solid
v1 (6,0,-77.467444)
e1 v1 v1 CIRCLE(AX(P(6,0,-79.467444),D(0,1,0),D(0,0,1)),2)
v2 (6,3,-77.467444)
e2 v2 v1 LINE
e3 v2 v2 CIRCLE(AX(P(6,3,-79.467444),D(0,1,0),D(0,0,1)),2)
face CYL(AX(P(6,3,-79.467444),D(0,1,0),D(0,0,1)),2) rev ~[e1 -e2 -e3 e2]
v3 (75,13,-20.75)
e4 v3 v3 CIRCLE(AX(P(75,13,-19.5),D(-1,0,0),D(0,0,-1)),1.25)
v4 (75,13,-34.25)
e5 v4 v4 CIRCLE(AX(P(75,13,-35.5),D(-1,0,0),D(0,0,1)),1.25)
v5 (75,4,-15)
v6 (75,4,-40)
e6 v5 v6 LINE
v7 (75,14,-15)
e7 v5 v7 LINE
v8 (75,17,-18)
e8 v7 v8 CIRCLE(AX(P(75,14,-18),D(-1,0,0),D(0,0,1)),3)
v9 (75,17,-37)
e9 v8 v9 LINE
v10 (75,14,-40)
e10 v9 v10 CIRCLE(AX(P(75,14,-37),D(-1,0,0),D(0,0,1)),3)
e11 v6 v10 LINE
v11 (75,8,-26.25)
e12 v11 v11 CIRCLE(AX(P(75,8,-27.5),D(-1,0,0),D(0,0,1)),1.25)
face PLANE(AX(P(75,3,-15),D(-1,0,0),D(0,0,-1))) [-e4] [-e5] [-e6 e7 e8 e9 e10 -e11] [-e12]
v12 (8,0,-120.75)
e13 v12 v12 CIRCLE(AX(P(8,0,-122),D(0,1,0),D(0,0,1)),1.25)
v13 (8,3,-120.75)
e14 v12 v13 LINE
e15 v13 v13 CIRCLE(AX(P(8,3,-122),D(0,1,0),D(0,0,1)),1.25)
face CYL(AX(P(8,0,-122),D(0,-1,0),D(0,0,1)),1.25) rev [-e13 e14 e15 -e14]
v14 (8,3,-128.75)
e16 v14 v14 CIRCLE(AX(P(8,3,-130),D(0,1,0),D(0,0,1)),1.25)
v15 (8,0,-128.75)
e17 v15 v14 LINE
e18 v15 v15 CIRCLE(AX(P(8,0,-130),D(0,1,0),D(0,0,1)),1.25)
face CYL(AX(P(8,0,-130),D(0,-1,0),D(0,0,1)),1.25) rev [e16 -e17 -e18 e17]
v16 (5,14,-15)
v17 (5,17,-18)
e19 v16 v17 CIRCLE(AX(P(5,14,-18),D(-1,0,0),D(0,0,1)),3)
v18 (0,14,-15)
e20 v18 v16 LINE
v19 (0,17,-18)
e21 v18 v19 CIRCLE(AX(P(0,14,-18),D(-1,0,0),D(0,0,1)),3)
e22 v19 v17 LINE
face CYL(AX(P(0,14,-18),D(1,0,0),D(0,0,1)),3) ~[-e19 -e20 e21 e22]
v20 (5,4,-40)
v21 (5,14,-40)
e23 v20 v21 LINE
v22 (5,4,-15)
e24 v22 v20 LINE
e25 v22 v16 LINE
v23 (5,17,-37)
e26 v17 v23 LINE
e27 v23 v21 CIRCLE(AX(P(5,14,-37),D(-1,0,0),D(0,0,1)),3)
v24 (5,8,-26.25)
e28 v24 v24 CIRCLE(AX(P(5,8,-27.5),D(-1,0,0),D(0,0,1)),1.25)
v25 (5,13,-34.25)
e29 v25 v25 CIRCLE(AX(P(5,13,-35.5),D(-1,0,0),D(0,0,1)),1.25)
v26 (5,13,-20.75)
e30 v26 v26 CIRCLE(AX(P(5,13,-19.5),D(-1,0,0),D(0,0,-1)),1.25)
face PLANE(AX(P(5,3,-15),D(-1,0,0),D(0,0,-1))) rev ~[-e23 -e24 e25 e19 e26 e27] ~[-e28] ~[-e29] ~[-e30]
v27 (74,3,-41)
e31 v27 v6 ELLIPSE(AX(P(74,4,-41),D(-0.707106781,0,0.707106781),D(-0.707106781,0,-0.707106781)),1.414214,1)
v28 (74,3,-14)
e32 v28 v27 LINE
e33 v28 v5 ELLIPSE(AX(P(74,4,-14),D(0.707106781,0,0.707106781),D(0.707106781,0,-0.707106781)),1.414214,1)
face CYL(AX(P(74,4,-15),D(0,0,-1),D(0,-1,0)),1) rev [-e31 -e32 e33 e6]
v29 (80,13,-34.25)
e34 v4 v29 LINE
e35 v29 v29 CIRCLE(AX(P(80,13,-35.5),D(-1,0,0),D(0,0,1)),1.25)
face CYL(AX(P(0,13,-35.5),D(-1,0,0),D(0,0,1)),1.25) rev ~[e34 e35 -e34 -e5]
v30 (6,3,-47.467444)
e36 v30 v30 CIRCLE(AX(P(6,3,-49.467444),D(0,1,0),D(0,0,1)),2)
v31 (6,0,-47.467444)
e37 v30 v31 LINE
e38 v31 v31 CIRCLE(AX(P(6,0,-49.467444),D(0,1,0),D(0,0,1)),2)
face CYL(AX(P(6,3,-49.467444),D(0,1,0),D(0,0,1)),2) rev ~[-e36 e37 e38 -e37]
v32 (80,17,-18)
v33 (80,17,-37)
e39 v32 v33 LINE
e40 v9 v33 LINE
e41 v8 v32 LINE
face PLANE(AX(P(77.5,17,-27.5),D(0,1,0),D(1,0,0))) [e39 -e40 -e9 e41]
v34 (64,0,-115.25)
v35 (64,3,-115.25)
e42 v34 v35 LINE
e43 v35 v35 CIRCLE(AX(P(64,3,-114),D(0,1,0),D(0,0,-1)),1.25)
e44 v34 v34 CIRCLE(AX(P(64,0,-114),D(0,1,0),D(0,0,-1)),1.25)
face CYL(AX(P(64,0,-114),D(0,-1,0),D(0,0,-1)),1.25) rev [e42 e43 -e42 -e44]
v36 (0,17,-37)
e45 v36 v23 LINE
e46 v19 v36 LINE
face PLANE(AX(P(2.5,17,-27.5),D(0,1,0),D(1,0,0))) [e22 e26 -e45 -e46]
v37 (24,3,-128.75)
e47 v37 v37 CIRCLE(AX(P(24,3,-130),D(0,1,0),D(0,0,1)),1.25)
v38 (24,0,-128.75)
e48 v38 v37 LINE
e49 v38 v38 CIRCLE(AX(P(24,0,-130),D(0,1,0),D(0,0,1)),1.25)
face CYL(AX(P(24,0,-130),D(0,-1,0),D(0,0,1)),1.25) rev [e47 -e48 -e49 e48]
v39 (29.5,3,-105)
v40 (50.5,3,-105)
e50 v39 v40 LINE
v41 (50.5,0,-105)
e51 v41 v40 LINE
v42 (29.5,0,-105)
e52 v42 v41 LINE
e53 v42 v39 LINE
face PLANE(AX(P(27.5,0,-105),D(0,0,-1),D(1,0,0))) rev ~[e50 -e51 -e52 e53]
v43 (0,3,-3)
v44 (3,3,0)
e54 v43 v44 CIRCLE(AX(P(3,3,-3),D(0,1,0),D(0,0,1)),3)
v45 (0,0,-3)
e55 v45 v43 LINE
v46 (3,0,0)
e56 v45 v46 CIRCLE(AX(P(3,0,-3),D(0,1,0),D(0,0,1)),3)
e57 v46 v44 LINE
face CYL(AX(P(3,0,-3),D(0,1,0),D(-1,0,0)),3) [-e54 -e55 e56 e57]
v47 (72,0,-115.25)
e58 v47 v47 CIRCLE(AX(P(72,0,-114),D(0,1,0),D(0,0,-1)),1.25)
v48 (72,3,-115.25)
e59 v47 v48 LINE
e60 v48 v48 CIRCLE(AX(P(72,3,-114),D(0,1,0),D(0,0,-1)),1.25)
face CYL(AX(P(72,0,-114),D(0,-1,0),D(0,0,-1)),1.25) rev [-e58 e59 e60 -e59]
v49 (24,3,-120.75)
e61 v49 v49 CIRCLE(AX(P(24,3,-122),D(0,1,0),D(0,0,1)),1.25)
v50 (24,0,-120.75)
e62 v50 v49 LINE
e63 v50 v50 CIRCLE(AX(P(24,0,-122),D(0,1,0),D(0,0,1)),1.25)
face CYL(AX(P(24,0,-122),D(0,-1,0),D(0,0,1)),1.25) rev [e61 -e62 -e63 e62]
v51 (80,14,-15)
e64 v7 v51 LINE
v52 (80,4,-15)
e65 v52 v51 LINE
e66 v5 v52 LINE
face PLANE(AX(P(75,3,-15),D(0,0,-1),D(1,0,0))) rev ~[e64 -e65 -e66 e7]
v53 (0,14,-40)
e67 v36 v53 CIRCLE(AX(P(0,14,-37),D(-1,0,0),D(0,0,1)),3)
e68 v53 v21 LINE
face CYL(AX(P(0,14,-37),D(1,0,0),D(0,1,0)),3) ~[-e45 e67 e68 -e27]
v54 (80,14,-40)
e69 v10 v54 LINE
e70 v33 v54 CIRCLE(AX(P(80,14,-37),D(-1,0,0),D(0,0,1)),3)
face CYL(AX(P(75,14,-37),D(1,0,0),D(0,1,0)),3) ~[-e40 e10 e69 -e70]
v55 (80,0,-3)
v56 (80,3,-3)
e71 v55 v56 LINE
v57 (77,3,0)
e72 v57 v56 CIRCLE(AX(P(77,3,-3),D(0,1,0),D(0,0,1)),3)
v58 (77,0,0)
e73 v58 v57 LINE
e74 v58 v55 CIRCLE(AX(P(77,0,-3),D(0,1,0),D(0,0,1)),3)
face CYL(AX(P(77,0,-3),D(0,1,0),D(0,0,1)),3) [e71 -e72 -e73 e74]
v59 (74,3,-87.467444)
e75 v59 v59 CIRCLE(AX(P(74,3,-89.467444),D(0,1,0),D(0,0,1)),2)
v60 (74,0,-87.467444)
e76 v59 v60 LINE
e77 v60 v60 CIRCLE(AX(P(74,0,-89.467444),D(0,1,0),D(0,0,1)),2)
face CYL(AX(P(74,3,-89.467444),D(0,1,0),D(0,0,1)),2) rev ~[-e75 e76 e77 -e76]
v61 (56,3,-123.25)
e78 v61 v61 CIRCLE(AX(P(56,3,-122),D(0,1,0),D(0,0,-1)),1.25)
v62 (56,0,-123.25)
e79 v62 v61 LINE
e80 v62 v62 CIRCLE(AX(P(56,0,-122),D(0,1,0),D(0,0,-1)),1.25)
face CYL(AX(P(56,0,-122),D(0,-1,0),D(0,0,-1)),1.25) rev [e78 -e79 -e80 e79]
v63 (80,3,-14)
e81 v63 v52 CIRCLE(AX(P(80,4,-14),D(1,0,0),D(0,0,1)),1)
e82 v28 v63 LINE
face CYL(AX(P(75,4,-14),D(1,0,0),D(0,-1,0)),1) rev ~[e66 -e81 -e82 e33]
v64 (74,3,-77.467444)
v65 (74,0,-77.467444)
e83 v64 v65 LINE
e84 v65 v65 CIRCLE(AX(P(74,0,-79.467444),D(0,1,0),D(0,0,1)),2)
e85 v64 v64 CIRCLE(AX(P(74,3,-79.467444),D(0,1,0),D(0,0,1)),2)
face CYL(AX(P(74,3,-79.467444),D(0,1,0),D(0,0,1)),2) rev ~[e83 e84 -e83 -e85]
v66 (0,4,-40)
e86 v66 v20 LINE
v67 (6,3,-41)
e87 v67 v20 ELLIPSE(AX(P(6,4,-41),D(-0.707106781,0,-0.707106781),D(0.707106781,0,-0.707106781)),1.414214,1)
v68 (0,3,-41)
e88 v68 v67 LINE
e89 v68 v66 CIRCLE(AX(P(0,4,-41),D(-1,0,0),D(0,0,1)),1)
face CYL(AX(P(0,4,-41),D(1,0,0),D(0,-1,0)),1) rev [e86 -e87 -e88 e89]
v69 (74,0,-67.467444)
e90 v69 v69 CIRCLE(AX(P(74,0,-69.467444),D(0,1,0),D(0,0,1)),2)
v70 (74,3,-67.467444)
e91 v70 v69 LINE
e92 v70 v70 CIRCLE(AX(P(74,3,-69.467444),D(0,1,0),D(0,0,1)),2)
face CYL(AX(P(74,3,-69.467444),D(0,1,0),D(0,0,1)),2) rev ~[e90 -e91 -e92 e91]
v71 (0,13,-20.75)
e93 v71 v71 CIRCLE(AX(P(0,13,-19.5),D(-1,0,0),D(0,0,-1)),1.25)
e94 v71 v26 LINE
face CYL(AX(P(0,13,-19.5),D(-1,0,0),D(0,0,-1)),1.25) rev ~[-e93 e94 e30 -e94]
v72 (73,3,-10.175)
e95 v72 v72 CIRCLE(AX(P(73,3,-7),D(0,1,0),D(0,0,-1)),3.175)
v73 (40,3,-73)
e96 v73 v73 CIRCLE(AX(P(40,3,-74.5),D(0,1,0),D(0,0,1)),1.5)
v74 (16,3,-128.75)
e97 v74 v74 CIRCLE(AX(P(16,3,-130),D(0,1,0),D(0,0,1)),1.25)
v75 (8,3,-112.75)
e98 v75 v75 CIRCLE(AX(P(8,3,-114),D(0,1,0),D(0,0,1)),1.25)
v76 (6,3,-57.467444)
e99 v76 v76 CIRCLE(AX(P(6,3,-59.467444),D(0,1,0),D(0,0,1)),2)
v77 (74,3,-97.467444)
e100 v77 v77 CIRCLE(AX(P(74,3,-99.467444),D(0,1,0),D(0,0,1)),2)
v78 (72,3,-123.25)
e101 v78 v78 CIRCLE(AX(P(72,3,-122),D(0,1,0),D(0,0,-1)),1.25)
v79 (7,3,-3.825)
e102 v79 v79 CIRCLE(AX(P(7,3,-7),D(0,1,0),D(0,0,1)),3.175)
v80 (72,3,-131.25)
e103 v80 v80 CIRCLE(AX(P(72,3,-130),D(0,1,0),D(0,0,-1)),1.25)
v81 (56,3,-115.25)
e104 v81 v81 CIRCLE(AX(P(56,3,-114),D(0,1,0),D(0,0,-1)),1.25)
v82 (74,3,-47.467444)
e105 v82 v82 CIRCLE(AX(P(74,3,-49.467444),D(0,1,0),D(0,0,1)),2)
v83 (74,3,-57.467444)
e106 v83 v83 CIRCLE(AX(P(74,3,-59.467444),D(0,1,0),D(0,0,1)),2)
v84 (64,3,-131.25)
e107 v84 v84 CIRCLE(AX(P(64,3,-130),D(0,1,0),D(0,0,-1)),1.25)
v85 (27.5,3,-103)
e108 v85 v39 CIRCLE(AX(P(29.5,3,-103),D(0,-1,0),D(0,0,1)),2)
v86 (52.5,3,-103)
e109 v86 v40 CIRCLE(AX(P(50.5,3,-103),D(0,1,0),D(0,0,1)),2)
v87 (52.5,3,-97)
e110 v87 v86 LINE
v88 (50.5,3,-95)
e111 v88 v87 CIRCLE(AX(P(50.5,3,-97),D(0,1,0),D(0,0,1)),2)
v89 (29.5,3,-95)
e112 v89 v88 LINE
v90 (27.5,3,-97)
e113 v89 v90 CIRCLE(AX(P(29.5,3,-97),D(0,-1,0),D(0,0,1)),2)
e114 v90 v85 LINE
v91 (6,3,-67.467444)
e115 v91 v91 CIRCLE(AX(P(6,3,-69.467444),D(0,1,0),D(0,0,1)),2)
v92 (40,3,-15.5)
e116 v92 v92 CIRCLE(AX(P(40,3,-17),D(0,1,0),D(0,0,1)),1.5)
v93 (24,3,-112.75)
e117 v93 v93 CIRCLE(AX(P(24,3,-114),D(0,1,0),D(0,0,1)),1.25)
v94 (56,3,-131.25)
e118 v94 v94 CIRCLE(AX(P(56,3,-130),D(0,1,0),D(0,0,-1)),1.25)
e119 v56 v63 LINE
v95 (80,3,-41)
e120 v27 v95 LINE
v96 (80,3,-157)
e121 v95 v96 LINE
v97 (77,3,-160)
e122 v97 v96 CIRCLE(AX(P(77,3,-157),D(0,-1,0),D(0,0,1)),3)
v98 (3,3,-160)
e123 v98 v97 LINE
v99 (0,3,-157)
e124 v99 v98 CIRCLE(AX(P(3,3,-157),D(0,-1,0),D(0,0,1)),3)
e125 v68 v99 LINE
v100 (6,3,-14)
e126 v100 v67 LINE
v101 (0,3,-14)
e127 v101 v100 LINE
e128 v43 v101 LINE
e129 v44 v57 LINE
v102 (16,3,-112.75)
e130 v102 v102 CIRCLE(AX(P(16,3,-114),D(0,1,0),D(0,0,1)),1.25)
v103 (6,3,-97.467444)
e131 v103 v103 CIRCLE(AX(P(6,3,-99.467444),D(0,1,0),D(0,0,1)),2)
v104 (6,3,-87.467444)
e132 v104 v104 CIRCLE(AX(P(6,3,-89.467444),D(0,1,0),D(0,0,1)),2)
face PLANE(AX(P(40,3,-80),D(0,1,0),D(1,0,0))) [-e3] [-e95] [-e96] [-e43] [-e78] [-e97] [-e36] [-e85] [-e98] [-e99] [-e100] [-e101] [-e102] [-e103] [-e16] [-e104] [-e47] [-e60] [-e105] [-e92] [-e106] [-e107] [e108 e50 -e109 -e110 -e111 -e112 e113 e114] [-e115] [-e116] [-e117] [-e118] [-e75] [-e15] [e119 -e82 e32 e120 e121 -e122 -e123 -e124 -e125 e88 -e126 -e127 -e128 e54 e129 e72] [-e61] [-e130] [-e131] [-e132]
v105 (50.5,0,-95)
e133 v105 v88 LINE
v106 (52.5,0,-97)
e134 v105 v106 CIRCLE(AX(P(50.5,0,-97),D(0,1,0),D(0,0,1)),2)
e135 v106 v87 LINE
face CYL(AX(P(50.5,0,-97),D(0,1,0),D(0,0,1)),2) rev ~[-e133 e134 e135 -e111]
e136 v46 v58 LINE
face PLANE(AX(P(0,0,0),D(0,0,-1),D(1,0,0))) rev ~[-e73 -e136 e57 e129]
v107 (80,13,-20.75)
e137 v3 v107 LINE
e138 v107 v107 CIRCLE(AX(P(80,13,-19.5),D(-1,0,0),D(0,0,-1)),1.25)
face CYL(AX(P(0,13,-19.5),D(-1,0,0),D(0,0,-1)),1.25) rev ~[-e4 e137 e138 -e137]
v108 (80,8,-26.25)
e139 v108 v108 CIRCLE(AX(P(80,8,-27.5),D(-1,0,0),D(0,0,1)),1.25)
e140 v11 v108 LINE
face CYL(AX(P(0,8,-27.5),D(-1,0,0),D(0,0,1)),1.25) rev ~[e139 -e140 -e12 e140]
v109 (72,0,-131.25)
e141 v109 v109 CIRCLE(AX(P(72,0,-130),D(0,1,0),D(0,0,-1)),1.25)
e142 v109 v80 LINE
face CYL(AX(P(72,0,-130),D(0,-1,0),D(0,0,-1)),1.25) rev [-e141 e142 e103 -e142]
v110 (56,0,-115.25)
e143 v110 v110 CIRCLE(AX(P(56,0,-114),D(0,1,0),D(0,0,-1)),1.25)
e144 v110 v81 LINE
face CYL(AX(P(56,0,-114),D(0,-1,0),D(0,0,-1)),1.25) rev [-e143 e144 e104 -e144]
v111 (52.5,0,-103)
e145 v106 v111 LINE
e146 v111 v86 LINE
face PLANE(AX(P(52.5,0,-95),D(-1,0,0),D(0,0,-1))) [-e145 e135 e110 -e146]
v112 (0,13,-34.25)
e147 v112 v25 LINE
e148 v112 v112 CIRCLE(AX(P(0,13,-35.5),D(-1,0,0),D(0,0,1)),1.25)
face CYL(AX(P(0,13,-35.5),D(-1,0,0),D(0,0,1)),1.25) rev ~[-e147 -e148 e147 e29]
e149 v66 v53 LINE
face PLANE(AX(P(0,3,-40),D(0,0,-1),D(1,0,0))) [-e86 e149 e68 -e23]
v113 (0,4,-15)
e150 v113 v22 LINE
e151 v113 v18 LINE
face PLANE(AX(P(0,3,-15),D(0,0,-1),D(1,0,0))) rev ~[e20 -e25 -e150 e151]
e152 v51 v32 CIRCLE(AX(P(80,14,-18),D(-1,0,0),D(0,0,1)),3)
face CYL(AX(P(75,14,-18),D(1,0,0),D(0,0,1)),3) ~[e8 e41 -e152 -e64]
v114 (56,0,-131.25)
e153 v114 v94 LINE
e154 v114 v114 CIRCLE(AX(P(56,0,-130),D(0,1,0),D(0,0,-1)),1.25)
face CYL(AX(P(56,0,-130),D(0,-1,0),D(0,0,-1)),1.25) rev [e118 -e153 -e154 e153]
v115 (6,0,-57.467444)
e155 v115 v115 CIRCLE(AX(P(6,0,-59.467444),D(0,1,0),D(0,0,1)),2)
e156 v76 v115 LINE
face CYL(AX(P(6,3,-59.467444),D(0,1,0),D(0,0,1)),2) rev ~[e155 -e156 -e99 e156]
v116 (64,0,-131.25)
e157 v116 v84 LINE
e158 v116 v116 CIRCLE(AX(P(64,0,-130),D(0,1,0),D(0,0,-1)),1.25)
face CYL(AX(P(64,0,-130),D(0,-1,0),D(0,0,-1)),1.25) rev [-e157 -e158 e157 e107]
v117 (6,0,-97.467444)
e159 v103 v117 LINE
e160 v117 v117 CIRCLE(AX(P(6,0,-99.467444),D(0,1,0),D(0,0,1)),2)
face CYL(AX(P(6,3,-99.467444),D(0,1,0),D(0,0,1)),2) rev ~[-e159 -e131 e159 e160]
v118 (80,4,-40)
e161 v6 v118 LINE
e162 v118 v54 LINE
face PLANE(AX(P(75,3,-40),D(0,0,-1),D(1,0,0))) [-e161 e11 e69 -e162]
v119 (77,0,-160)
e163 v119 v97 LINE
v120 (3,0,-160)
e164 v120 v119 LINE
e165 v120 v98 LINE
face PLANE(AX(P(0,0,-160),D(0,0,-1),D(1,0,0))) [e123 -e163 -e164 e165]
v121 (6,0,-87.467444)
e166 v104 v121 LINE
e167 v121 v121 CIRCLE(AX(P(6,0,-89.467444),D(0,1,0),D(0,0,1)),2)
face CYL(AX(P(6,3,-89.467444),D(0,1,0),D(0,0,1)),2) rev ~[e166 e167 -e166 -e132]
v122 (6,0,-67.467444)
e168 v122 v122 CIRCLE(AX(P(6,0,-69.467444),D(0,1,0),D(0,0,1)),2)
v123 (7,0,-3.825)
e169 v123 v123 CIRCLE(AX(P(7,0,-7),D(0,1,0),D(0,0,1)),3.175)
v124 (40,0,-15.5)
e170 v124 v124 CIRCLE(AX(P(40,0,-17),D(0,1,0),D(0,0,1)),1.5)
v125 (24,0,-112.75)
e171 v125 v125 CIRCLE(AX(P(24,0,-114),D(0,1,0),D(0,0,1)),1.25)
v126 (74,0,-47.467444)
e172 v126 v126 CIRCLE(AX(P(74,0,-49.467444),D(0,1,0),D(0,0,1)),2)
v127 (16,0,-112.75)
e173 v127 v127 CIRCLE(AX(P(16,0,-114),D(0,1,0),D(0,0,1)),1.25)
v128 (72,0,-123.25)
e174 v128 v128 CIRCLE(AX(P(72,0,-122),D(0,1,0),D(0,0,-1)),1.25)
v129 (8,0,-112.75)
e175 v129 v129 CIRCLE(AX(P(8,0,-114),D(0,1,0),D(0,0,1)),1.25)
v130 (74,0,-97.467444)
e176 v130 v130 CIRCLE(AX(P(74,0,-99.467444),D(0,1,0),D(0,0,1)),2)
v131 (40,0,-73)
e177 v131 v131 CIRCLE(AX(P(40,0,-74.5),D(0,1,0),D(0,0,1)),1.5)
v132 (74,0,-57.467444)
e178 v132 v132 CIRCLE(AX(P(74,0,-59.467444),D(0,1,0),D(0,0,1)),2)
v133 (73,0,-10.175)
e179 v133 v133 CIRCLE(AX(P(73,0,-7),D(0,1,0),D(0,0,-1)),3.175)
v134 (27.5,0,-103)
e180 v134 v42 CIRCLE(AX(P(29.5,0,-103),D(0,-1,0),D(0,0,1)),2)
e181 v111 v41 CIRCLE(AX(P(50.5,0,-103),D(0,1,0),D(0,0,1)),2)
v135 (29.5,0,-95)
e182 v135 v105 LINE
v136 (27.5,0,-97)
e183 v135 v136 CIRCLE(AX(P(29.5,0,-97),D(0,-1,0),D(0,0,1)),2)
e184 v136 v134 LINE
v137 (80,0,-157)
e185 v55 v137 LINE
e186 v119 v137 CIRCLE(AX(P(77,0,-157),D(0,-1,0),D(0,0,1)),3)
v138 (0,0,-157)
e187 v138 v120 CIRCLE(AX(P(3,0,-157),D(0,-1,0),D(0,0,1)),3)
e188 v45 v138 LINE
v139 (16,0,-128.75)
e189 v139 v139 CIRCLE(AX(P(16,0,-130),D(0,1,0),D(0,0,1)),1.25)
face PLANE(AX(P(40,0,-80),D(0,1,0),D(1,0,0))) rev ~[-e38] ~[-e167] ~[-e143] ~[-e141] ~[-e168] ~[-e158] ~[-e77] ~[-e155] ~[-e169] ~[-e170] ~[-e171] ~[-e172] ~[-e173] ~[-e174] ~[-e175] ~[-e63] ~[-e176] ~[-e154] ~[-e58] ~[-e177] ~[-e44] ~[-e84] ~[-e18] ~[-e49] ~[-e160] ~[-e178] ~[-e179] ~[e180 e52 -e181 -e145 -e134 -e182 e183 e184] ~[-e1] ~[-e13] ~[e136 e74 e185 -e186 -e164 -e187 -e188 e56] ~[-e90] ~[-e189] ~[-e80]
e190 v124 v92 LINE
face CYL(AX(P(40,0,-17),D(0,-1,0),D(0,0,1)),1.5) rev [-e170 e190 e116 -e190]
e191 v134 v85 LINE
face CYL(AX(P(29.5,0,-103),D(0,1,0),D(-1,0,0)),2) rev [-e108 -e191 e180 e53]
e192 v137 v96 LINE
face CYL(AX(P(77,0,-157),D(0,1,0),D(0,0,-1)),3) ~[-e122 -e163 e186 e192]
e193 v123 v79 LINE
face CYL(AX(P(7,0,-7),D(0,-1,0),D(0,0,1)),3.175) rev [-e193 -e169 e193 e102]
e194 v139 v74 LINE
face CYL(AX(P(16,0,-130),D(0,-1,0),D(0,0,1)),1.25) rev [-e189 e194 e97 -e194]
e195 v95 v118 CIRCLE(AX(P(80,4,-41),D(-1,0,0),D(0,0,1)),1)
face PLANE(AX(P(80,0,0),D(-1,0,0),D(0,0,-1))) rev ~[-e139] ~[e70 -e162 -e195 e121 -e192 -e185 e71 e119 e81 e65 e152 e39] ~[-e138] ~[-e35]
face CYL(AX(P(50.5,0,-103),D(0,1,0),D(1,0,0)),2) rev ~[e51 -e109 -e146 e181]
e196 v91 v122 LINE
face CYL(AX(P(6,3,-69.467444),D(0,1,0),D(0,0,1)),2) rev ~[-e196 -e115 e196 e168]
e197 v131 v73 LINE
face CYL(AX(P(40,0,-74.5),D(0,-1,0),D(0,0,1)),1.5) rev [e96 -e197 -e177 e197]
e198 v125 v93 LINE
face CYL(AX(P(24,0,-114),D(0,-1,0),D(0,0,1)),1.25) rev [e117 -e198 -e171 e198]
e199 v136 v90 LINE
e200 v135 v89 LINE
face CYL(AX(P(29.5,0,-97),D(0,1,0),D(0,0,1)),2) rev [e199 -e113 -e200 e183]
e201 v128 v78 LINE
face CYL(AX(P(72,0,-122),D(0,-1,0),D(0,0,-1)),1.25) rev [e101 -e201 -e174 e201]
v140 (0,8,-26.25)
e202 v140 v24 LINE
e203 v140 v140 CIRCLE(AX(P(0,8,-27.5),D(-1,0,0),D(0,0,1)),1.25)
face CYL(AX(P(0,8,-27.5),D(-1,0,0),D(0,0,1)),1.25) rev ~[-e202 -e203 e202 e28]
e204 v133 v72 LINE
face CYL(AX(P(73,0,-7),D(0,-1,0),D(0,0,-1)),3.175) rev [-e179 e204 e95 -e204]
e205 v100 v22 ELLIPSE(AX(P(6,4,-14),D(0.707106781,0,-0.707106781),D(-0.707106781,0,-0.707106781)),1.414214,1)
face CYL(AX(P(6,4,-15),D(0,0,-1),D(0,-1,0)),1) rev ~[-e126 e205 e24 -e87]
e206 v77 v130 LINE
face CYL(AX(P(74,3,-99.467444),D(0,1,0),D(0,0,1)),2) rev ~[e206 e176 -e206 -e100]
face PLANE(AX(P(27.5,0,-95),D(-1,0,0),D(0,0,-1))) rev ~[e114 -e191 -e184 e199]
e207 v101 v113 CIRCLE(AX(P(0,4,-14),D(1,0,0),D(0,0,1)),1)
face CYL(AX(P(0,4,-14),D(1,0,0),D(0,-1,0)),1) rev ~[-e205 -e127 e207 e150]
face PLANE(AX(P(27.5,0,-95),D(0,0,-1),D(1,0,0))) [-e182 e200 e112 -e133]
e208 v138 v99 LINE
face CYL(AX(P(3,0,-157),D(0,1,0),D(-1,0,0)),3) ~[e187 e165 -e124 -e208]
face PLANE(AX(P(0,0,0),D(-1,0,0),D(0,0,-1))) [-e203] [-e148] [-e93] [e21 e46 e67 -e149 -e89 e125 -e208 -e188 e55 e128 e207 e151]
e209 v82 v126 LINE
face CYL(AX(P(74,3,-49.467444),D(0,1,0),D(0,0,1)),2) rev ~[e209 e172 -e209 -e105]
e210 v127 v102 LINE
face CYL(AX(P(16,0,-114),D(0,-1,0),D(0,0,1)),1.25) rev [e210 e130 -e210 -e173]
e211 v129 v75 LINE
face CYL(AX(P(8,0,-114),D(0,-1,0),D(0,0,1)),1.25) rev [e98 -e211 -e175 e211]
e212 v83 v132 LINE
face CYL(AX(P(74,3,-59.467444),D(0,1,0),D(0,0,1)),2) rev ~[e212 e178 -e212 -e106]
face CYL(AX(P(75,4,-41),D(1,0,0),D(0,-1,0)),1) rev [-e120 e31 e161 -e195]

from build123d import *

# Parameters (mm, degrees)
SKETCH1_W           = 80
SKETCH1_H           = 160
SKETCH1_R           = 1.25
SKETCH1_R_2         = 1.5
SKETCH1_R_3         = 3.175
SKETCH1_W_2         = 25
SKETCH1_H_2         = 10
BOSS_EXTRUDE1_DEPTH = 3
SKETCH2_W           = 5
SKETCH2_H           = 25
BOSS_EXTRUDE2_DEPTH = 14
FILLET1_R           = 1
FILLET2_R           = 3
FILLET3_R           = 3
SKETCH4_R           = 1.25
CUT_EXTRUDE1_DEPTH  = 180.691402132
SKETCH6_R           = 2
CUT_EXTRUDE2_DEPTH  = 8.89
LPATTERN1_COUNT     = 6
LPATTERN1_PITCH     = 10
FILLET4_R           = 2


with BuildPart() as part:
    # Sketch1 → Boss-Extrude1 (new body)
    with BuildSketch(Plane(origin=(0, 0, 0), x_dir=(1, 0, 0), z_dir=(0, 1, 0))):
        with Locations((40, 80)):
            Rectangle(SKETCH1_W, SKETCH1_H)
        with Locations(Location((8, 130, 0), (0, 0, 270))):
            Circle(SKETCH1_R, mode=Mode.SUBTRACT)
        with Locations(Location((16, 130, 0), (0, 0, 270))):
            Circle(SKETCH1_R, mode=Mode.SUBTRACT)
        with Locations(Location((24, 130, 0), (0, 0, 270))):
            Circle(SKETCH1_R, mode=Mode.SUBTRACT)
        with Locations(Location((24, 122, 0), (0, 0, 270))):
            Circle(SKETCH1_R, mode=Mode.SUBTRACT)
        with Locations(Location((24, 114, 0), (0, 0, 270))):
            Circle(SKETCH1_R, mode=Mode.SUBTRACT)
        with Locations(Location((16, 114, 0), (0, 0, 270))):
            Circle(SKETCH1_R, mode=Mode.SUBTRACT)
        with Locations(Location((8, 114, 0), (0, 0, 270))):
            Circle(SKETCH1_R, mode=Mode.SUBTRACT)
        with Locations(Location((8, 122, 0), (0, 0, 270))):
            Circle(SKETCH1_R, mode=Mode.SUBTRACT)
        with Locations(Location((72, 130, 0), (0, 0, 90))):
            Circle(SKETCH1_R, mode=Mode.SUBTRACT)
        with Locations(Location((72, 122, 0), (0, 0, 90))):
            Circle(SKETCH1_R, mode=Mode.SUBTRACT)
        with Locations(Location((72, 114, 0), (0, 0, 90))):
            Circle(SKETCH1_R, mode=Mode.SUBTRACT)
        with Locations(Location((64, 114, 0), (0, 0, 90))):
            Circle(SKETCH1_R, mode=Mode.SUBTRACT)
        with Locations(Location((64, 130, 0), (0, 0, 90))):
            Circle(SKETCH1_R, mode=Mode.SUBTRACT)
        with Locations(Location((56, 130, 0), (0, 0, 90))):
            Circle(SKETCH1_R, mode=Mode.SUBTRACT)
        with Locations(Location((56, 122, 0), (0, 0, 90))):
            Circle(SKETCH1_R, mode=Mode.SUBTRACT)
        with Locations(Location((56, 114, 0), (0, 0, 90))):
            Circle(SKETCH1_R, mode=Mode.SUBTRACT)
        with Locations(Location((40, 17, 0), (0, 0, 270))):
            Circle(SKETCH1_R_2, mode=Mode.SUBTRACT)
        with Locations(Location((40, 74.5, 0), (0, 0, 270))):
            Circle(SKETCH1_R_2, mode=Mode.SUBTRACT)
        with Locations(Location((7, 7, 0), (0, 0, 270))):
            Circle(SKETCH1_R_3, mode=Mode.SUBTRACT)
        with Locations(Location((73, 7, 0), (0, 0, 90))):
            Circle(SKETCH1_R_3, mode=Mode.SUBTRACT)
        with Locations((40, 100)):
            Rectangle(SKETCH1_W_2, SKETCH1_H_2, mode=Mode.SUBTRACT)
    extrude(amount=BOSS_EXTRUDE1_DEPTH)

    # Sketch2 → Boss-Extrude2 (add)
    with BuildSketch(Plane(origin=(0, 3, 0), x_dir=(1, 0, 0), z_dir=(0, 1, 0))):
        with Locations((2.5, 27.5)):
            Rectangle(SKETCH2_W, SKETCH2_H)
        with Locations((77.5, 27.5)):
            Rectangle(SKETCH2_W, SKETCH2_H)
    extrude(amount=BOSS_EXTRUDE2_DEPTH)

    # Fillet1
    fillet1_edges = [part.edges().sort_by_distance(p)[0] for p in [
        (77.5, 3, -15),
        (75, 3, -27.5),
        (77.5, 3, -40),
        (2.5, 3, -40),
        (5, 3, -27.5),
        (2.5, 3, -15),
    ]]
    fillet(fillet1_edges, radius=FILLET1_R)

    # Fillet2
    fillet2_edges = [part.edges().sort_by_distance(p)[0] for p in [
        (0, 1.5, -160),
        (80, 1.5, -160),
        (80, 1.5, 0),
        (0, 1.5, 0),
    ]]
    fillet(fillet2_edges, radius=FILLET2_R)

    # Fillet3
    fillet3_edges = [part.edges().sort_by_distance(p)[0] for p in [
        (77.5, 17, -40),
        (77.5, 17, -15),
        (2.5, 17, -15),
        (2.5, 17, -40),
    ]]
    fillet(fillet3_edges, radius=FILLET3_R)

    # Sketch4 → Cut-Extrude1 (cut, through all)
    with BuildSketch(Plane.ZY):
        with Locations((-27.5, 8)):
            Circle(SKETCH4_R)
        with Locations((-35.5, 13)):
            Circle(SKETCH4_R)
        with Locations(Location((-19.5, 13, 0), (0, 0, 180))):
            Circle(SKETCH4_R)
    extrude(amount=-CUT_EXTRUDE1_DEPTH, mode=Mode.SUBTRACT)

    # Sketch6 → Cut-Extrude2 (cut)
    with BuildSketch(Plane(origin=(0, 3, 0), x_dir=(1, 0, 0), z_dir=(0, 1, 0))):
        with Locations(Location((6, 99.467444438, 0), (0, 0, 270))):
            Circle(SKETCH6_R)
        with Locations(Location((74, 99.467444438, 0), (0, 0, 270))):
            Circle(SKETCH6_R)
    cut_extrude2 = extrude(amount=-CUT_EXTRUDE2_DEPTH, mode=Mode.SUBTRACT)

    # LPattern1: Cut-Extrude2 ×6
    with Locations(*[(0, 0, i * LPATTERN1_PITCH) for i in range(1, LPATTERN1_COUNT)]):
        add(cut_extrude2, mode=Mode.SUBTRACT)

    # Fillet4
    fillet4_edges = [part.edges().sort_by_distance(p)[0] for p in [
        (52.5, 1.5, -95),
        (52.5, 1.5, -105),
        (27.5, 1.5, -105),
        (27.5, 1.5, -95),
    ]]
    fillet(fillet4_edges, radius=FILLET4_R)


solid = part.part
